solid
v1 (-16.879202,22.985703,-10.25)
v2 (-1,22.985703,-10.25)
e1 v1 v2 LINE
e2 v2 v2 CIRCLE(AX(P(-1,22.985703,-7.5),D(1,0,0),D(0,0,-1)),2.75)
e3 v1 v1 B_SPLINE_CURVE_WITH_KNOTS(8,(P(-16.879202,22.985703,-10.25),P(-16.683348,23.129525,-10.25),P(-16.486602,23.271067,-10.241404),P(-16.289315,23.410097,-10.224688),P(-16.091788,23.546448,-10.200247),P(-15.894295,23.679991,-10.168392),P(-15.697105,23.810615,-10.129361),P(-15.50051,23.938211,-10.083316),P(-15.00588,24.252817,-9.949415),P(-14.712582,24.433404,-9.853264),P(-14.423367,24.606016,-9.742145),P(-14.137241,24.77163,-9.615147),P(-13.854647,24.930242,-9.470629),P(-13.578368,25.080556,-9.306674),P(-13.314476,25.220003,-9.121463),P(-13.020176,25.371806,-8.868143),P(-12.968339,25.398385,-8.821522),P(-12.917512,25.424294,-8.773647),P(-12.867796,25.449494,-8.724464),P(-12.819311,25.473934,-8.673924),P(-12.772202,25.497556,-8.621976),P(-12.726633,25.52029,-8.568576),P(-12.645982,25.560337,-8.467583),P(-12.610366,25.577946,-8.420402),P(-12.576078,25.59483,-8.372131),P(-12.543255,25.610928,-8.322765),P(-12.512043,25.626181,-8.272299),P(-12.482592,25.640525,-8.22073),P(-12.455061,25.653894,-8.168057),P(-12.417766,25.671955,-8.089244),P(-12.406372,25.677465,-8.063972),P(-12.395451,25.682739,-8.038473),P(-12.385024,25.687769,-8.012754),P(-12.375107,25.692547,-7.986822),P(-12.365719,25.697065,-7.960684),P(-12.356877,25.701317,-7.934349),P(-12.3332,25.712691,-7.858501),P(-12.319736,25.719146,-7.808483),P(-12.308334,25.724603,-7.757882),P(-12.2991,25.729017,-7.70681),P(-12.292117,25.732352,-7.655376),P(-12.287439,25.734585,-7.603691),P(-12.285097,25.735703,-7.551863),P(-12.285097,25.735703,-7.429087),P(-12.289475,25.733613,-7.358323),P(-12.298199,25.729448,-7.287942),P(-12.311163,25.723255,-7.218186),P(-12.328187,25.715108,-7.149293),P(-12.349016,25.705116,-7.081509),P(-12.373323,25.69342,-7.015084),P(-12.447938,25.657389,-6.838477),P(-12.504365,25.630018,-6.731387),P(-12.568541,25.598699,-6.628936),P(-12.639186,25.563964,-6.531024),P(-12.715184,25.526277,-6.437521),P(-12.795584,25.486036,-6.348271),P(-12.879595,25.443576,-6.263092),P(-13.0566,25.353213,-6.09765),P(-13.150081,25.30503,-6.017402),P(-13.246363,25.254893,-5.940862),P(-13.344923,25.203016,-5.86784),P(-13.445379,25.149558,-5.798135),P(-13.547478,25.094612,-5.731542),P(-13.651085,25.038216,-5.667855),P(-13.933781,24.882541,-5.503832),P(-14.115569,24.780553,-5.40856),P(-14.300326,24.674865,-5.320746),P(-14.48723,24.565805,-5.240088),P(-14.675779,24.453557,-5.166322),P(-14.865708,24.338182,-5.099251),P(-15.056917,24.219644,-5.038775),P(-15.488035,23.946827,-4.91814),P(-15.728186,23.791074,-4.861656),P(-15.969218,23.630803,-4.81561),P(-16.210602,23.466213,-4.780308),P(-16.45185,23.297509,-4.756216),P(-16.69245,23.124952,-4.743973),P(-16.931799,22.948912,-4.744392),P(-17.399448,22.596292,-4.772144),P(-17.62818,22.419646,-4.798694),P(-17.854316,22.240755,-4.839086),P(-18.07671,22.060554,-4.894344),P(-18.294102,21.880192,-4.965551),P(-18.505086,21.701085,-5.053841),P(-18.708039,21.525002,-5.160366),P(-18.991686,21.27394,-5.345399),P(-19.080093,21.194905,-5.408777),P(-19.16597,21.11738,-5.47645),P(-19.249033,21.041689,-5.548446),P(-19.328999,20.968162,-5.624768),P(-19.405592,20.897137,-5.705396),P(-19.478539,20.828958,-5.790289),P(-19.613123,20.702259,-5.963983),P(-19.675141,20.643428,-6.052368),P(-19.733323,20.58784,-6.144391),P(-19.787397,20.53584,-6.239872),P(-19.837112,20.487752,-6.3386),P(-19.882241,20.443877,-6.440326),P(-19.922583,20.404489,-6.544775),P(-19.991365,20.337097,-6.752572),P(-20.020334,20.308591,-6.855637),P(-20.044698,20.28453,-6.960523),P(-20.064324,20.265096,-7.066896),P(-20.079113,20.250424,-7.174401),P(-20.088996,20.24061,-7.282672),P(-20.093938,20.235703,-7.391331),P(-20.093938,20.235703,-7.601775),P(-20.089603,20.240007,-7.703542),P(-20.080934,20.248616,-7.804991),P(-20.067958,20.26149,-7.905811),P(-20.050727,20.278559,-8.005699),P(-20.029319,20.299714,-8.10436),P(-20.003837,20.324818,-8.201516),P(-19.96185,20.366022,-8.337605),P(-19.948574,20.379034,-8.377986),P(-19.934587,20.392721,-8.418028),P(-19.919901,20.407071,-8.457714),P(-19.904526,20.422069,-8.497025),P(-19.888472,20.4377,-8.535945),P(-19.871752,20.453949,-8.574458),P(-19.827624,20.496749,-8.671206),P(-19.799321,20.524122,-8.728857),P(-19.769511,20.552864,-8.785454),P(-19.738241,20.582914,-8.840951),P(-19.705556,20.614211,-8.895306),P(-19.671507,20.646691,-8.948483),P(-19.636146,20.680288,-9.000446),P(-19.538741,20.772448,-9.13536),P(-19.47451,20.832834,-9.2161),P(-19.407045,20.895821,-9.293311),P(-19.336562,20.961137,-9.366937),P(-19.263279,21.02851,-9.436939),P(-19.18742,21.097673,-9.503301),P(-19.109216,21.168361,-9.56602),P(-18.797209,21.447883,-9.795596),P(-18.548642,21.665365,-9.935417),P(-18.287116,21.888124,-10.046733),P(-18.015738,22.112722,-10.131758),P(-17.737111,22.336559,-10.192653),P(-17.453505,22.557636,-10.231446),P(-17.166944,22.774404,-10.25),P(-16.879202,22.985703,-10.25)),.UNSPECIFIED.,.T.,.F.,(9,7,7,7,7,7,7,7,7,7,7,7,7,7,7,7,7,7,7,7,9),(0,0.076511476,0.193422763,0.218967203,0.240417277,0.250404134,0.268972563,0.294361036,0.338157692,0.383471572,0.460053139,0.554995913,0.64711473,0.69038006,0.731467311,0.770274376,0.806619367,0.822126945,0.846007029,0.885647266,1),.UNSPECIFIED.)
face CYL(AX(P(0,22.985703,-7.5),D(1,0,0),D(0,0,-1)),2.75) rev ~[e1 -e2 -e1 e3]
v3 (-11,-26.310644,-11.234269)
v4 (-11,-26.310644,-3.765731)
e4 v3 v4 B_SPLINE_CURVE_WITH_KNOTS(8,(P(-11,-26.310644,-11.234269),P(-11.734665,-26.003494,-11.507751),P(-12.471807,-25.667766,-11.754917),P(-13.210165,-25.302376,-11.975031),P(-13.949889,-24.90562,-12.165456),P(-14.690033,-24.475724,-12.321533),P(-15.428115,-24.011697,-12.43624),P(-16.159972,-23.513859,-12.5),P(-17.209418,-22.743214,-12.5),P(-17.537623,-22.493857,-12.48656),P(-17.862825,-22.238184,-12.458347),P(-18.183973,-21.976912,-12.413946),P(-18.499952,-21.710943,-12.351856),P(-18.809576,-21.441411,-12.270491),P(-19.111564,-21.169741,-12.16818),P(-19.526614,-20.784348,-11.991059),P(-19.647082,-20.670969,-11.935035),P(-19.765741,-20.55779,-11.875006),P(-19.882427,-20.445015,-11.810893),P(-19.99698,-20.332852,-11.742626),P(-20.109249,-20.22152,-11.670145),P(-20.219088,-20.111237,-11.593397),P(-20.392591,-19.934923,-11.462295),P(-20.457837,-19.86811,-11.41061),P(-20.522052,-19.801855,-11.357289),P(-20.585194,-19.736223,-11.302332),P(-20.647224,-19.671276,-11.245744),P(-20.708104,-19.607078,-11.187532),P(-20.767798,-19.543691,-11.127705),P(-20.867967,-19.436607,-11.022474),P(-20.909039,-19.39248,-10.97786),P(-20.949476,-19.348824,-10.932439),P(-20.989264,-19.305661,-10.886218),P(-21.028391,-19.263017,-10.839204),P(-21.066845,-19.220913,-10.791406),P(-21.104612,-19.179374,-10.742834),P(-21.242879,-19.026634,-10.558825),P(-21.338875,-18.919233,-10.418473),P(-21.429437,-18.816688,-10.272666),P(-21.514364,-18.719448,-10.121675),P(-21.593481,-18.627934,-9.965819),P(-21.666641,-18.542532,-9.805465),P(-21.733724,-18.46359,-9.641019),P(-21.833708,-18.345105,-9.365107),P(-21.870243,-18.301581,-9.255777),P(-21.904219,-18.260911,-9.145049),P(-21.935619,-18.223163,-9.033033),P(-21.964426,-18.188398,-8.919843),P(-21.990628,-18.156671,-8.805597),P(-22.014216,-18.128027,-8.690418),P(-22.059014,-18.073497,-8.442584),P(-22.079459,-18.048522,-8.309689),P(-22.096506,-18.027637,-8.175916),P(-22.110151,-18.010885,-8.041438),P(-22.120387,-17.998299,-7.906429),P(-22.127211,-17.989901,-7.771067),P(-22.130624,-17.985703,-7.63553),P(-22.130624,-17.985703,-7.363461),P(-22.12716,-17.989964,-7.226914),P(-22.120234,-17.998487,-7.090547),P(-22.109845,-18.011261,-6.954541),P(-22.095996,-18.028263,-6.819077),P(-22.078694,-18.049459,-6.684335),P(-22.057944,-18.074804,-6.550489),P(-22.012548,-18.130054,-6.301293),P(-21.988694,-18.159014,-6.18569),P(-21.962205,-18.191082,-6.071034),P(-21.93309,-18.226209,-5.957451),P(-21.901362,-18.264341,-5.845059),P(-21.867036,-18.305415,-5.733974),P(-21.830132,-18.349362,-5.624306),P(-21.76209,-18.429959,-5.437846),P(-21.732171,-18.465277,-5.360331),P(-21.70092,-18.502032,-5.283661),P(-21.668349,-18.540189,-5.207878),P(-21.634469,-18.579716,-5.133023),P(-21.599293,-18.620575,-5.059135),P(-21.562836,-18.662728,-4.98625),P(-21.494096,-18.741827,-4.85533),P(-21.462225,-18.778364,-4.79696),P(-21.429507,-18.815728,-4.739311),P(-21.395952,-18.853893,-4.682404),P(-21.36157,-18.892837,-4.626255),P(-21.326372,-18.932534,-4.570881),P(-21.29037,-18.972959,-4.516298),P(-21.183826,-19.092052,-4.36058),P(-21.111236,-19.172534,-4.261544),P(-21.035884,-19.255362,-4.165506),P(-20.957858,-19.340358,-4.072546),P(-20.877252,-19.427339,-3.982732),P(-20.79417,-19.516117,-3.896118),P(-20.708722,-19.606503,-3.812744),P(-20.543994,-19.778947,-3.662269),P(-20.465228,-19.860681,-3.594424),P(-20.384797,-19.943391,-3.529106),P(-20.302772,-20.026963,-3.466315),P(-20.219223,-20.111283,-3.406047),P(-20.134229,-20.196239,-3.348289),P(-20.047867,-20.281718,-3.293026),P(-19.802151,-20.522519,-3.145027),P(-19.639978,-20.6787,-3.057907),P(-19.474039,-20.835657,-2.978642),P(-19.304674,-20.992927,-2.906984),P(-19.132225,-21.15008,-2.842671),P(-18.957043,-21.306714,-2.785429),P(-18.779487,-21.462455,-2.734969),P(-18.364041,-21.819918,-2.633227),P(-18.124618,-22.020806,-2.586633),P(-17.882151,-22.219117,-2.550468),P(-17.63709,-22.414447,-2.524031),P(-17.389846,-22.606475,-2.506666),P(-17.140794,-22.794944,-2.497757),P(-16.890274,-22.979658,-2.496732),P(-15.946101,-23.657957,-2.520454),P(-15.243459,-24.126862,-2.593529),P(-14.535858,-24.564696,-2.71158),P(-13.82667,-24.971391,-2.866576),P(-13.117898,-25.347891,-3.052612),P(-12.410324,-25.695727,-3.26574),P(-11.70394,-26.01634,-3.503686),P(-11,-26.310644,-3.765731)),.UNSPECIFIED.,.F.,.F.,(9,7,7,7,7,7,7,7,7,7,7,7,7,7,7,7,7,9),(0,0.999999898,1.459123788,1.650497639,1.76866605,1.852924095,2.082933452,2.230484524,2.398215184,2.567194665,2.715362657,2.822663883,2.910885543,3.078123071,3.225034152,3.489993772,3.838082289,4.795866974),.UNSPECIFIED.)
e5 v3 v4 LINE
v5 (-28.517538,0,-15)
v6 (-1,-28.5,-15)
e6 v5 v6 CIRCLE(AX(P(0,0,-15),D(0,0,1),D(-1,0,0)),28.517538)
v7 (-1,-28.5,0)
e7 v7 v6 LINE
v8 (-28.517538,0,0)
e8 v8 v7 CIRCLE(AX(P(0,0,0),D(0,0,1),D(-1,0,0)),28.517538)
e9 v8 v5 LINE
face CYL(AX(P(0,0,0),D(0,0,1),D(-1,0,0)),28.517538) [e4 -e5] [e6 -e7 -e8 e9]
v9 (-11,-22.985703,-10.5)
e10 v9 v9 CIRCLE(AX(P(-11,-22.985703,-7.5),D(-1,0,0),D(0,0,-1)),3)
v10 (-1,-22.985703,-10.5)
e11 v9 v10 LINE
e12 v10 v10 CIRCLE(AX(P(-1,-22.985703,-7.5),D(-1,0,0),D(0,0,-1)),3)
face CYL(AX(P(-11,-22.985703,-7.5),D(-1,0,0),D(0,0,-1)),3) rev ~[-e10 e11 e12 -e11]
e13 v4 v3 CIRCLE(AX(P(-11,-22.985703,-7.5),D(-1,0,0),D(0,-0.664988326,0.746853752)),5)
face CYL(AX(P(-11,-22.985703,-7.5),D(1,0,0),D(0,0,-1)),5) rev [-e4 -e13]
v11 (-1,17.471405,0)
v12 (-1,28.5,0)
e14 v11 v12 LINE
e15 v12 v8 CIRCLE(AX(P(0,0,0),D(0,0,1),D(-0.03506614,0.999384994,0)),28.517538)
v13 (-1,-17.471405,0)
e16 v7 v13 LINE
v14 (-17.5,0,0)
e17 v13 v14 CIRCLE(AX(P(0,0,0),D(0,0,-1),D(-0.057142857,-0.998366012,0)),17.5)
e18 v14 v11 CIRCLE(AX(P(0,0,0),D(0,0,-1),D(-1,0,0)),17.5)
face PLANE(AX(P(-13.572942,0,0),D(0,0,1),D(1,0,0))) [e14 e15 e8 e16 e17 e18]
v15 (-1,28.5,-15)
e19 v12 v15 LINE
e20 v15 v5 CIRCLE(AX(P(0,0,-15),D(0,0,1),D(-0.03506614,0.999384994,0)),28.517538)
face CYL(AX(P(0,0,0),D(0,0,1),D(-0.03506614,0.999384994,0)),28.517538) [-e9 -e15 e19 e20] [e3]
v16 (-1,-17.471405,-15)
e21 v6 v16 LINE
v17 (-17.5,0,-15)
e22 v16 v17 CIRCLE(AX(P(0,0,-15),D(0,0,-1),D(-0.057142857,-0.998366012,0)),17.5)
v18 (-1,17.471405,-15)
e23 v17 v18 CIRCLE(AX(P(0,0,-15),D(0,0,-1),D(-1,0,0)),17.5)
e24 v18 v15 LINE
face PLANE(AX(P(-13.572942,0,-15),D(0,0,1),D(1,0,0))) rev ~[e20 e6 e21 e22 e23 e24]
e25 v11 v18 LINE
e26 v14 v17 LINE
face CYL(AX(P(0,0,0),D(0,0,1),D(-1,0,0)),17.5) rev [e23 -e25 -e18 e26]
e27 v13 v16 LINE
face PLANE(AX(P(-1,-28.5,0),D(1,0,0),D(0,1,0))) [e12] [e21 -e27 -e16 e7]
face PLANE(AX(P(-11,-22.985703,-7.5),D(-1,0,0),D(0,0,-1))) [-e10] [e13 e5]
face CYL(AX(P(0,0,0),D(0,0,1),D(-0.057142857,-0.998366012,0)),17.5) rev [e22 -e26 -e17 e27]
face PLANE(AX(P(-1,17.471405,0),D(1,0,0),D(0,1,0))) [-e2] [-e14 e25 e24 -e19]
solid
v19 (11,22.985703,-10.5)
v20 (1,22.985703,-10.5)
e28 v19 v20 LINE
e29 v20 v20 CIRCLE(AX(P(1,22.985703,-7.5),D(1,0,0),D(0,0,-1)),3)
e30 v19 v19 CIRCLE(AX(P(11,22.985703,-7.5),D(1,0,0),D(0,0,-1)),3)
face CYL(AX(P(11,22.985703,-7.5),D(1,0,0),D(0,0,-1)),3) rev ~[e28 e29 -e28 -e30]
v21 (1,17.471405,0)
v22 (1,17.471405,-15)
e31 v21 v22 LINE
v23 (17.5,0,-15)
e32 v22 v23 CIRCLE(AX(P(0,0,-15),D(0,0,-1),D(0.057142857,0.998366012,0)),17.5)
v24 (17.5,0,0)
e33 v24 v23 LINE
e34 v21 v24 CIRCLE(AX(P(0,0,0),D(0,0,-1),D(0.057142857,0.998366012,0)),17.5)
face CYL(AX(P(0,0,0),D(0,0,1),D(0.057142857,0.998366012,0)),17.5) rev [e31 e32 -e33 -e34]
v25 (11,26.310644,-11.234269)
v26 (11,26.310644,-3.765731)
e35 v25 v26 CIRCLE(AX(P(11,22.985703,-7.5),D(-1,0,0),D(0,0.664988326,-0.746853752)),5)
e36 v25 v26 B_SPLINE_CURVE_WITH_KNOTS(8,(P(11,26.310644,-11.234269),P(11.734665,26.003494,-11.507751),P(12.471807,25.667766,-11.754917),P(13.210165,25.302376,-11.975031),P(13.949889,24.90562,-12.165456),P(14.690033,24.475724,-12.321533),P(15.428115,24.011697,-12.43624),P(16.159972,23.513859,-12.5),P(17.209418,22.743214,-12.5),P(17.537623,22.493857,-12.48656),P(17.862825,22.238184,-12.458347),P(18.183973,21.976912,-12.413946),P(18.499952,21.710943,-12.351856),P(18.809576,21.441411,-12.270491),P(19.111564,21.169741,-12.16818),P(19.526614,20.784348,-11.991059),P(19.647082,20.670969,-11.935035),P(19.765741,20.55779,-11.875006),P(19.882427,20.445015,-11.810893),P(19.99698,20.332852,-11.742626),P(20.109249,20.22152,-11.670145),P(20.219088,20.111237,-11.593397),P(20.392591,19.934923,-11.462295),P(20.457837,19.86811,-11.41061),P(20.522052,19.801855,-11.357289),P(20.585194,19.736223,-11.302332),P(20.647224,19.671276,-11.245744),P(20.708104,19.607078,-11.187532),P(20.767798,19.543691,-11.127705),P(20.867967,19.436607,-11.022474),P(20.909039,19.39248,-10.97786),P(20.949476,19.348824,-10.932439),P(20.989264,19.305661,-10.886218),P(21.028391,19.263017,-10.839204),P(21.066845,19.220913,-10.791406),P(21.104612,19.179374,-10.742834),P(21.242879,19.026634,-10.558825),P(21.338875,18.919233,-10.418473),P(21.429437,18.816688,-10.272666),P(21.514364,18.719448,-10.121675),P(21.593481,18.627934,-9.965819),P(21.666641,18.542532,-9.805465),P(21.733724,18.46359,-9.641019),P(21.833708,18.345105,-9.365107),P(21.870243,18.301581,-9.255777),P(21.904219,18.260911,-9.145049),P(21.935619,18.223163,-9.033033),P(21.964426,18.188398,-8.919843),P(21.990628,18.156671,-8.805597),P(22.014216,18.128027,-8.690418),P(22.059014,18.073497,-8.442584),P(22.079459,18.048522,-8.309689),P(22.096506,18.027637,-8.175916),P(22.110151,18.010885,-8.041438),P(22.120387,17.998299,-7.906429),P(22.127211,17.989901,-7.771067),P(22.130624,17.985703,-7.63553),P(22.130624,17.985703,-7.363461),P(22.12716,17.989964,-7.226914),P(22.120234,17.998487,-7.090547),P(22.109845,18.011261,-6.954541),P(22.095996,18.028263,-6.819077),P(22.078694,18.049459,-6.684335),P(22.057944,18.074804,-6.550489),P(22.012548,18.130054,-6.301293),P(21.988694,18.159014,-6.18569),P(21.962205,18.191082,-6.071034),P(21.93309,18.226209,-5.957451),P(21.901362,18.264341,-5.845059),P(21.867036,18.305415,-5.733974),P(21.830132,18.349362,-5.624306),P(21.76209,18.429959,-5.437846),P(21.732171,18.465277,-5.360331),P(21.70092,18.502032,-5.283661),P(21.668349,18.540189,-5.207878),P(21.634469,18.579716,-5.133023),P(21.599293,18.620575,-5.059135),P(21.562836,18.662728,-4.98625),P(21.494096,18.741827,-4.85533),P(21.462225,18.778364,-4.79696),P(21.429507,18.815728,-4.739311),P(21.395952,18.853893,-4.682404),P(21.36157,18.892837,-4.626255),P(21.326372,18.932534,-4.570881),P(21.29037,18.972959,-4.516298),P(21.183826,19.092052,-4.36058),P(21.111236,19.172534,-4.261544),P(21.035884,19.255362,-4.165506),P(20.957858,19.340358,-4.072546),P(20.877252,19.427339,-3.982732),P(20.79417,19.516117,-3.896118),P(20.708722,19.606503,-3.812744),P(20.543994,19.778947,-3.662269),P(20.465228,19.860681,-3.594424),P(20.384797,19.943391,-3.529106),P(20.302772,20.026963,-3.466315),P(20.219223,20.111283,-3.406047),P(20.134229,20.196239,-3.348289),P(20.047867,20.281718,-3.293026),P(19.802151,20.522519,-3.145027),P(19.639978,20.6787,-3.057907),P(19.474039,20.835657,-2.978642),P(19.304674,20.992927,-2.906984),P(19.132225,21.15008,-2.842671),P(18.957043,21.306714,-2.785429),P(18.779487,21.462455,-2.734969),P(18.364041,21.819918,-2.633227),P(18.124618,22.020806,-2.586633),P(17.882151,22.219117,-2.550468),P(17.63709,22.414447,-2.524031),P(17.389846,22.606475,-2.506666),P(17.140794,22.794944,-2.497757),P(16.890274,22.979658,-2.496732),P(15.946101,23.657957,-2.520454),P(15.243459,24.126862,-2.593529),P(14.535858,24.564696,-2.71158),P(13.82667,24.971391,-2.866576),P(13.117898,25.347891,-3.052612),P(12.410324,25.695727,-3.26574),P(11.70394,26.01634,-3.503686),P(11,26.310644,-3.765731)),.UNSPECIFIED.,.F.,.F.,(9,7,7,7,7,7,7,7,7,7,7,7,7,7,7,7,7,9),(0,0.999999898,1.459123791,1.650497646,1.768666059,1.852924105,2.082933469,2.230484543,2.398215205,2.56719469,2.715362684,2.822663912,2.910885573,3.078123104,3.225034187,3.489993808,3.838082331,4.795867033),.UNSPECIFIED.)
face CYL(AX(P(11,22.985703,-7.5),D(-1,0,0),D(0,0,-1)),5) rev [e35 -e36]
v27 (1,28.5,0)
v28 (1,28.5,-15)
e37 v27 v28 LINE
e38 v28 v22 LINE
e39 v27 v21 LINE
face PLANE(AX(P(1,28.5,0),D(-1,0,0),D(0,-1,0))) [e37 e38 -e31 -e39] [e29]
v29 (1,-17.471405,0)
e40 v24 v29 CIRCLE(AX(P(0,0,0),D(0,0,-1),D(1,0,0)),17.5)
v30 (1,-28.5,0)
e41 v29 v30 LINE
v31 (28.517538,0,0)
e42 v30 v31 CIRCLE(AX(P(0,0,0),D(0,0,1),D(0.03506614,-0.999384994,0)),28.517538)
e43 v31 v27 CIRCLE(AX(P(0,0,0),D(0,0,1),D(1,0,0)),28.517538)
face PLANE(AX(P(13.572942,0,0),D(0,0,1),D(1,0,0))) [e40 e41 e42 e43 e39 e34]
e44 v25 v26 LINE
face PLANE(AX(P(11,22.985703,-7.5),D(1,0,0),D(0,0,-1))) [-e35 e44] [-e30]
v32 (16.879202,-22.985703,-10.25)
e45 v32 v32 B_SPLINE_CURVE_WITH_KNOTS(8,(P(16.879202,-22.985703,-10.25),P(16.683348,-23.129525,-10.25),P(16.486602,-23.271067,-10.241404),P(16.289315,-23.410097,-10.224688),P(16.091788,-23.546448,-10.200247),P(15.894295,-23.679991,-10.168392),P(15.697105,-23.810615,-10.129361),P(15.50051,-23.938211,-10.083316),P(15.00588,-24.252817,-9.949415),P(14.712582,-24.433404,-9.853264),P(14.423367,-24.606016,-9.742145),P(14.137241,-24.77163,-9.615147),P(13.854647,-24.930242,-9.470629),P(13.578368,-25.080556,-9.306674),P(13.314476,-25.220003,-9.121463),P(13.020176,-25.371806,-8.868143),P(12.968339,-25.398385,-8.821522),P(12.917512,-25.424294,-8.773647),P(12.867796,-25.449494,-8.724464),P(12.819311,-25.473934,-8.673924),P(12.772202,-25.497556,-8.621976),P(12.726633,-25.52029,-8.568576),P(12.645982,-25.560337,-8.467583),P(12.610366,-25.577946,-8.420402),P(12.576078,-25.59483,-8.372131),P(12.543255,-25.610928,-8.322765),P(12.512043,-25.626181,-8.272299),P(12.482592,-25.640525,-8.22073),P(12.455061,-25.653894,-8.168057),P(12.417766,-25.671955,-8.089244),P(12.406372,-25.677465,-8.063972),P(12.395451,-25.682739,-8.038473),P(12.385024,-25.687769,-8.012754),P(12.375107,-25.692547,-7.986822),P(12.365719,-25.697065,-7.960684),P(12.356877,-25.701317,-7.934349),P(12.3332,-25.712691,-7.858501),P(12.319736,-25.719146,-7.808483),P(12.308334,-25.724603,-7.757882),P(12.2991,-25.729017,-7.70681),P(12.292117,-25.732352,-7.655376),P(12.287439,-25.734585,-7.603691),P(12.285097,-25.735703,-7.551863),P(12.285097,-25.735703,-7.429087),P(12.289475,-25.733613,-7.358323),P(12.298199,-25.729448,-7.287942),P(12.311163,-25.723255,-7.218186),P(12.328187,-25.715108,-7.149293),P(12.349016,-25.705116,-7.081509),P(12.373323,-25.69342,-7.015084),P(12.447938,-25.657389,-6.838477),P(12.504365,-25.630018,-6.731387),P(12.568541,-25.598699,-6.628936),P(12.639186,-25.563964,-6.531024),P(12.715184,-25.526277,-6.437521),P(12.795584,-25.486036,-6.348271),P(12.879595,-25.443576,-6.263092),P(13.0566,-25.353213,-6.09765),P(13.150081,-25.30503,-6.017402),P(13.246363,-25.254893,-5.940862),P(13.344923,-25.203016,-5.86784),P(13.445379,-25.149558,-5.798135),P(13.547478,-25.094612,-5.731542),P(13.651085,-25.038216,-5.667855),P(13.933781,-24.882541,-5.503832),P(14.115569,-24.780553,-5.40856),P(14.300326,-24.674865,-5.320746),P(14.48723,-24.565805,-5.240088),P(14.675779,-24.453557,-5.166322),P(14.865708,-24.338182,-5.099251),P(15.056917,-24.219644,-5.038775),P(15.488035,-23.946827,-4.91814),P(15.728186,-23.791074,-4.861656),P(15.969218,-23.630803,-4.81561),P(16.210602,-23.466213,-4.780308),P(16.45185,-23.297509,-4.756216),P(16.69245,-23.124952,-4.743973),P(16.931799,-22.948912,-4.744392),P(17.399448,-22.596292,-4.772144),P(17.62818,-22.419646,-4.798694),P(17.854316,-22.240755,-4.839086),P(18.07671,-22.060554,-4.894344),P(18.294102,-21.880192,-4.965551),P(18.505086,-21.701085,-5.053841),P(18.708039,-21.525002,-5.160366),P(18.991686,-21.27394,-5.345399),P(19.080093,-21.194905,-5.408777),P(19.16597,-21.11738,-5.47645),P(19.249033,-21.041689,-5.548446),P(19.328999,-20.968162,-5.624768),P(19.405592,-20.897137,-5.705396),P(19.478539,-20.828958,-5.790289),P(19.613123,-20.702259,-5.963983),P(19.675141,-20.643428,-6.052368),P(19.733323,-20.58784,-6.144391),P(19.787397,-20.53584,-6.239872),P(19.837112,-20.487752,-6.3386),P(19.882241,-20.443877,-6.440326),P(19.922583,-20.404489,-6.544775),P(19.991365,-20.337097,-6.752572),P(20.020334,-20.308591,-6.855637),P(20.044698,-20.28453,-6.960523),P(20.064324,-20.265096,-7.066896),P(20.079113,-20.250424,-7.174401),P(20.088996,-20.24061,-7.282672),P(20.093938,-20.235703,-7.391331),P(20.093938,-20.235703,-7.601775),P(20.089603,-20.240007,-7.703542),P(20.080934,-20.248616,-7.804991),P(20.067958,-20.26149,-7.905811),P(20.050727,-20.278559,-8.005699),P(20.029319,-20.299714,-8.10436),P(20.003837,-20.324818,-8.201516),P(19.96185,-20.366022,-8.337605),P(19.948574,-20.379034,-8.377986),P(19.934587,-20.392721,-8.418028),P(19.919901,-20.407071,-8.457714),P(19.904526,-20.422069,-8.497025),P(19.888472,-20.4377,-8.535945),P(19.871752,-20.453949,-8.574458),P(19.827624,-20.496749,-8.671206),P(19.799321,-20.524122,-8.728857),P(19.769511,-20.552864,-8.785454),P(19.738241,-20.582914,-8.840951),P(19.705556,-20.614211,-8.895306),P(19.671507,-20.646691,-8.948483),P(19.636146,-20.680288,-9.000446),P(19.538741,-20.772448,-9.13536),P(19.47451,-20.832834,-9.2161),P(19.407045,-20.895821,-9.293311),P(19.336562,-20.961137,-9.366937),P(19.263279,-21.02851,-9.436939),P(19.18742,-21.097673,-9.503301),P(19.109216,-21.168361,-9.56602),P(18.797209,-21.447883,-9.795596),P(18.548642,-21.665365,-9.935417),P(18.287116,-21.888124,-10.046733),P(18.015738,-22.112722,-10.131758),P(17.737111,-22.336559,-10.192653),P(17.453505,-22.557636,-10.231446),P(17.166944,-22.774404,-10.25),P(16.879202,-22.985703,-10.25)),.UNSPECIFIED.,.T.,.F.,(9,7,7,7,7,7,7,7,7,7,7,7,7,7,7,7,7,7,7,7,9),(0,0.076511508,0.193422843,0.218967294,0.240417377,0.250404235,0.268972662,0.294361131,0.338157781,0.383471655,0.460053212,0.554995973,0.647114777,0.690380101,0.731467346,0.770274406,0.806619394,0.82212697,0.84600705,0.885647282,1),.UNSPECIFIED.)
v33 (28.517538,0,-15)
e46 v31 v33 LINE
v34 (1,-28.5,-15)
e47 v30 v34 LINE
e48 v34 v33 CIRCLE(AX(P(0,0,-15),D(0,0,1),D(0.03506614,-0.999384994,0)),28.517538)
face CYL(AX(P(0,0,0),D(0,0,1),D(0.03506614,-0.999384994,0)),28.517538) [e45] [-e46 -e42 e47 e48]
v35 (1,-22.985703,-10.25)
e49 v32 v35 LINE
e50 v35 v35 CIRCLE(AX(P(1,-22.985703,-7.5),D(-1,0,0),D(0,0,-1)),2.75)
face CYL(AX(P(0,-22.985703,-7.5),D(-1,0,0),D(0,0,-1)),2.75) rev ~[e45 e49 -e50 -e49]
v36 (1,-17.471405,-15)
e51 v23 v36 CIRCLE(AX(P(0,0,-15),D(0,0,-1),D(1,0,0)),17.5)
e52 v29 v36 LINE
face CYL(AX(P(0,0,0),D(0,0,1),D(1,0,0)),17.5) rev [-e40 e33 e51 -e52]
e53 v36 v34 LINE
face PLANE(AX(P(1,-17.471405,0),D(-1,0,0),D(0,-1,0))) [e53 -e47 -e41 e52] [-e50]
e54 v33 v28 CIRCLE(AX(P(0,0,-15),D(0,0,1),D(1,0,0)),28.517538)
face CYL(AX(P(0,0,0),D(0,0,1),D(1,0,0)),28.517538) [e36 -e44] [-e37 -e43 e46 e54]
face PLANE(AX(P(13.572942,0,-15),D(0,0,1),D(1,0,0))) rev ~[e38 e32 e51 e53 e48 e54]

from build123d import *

# Parameters (mm, degrees)
EXTRUDE_1_DEPTH          = 15
EXTRUDE_1_2_DEPTH        = 15
SKETCH_2_R               = 2.75
CUT_EXTRUDE_1_DEPTH      = 29.517538463
SKETCH_3_R               = 5
CUT_EXTRUDE_2_DEPTH      = 18.517538563
SKETCH_4_R               = 3
CUT_EXTRUDE_3_DEPTH      = 10
PATTERN_CIRCULAR_1_COUNT = 2


with BuildPart() as part:
    # Эскиз1 → Бобышка-Вытянуть1 (new body)
    with BuildSketch(Plane.XY):
        with BuildLine():
            ThreePointArc((-1, 28.5), (-20.515451963, 19.808236438), (-28.517538463, 0))
            ThreePointArc((-28.517538463, 0), (-20.515451963, -19.808236438), (-1, -28.5))
            Line((-1, -28.5), (-1, -17.47140521))
            ThreePointArc((-1, -17.47140521), (-12.72301065, -12.015614841), (-17.5, 0))
            ThreePointArc((-17.5, 0), (-12.72301065, 12.015614841), (-1, 17.47140521))
            Line((-1, 17.47140521), (-1, 28.5))
        make_face()
    extrude(amount=-EXTRUDE_1_DEPTH)


with BuildPart() as body_2:
    # Эскиз1 → Extrude 1 2 (new body)
    with BuildSketch(Plane.XY):
        with BuildLine():
            Line((1, -17.47140521), (1, -28.5))
            ThreePointArc((1, -28.5), (20.515451963, -19.808236438), (28.517538463, 0))
            ThreePointArc((28.517538463, 0), (20.515451963, 19.808236438), (1, 28.5))
            Line((1, 28.5), (1, 17.47140521))
            ThreePointArc((1, 17.47140521), (12.72301065, 12.015614841), (17.5, 0))
            ThreePointArc((17.5, 0), (12.72301065, -12.015614841), (1, -17.47140521))
        make_face()
    extrude(amount=-EXTRUDE_1_2_DEPTH)


with BuildPart() as cut_extrude_1_tool:
    # Эскиз2 → Вырез-Вытянуть1 (new body, symmetric)
    with BuildSketch(Plane(origin=(0, 0, 0), x_dir=(0, 0, -1), z_dir=(1, 0, 0))):
        with Locations((7.5, 22.985702605)):
            Circle(SKETCH_2_R)
    cut_extrude_1 = extrude(amount=CUT_EXTRUDE_1_DEPTH, both=True)


with BuildPart() as part_1:
    add(part.part)

    # Вырез-Вытянуть1: cut by cut_extrude_1_tool
    add(cut_extrude_1_tool.part, mode=Mode.SUBTRACT)


with BuildPart() as body_2_1:
    add(body_2.part)

    # Вырез-Вытянуть1: cut by cut_extrude_1_tool
    add(cut_extrude_1_tool.part, mode=Mode.SUBTRACT)

    # Эскиз3 → Вырез-Вытянуть2 (cut, through all)
    with BuildSketch(Plane(origin=(11, 0, 0), x_dir=(0, 0, -1), z_dir=(1, 0, 0))):
        with Locations((7.5, 22.985702605)):
            Circle(SKETCH_3_R)
    cut_extrude_2 = extrude(amount=CUT_EXTRUDE_2_DEPTH, mode=Mode.SUBTRACT)

    # Эскиз4 → Вырез-Вытянуть3 (cut)
    with BuildSketch(Plane(origin=(11, 0, 0), x_dir=(0, 0, -1), z_dir=(1, 0, 0))):
        with Locations((7.5, 22.985702605)):
            Circle(SKETCH_4_R)
    cut_extrude_3 = extrude(amount=-CUT_EXTRUDE_3_DEPTH, mode=Mode.SUBTRACT)


with BuildPart() as pattern_circular_1_tool:
    # Круговой массив1: Вырез-Вытянуть1, Вырез-Вытянуть2, Вырез-Вытянуть3 ×2 about axis
    pattern_circular_1_axis = Axis((0, 0, -80.9), (0, 0, 1))
    for i in range(1, PATTERN_CIRCULAR_1_COUNT):
        add(cut_extrude_1.rotate(pattern_circular_1_axis, i * 360 / PATTERN_CIRCULAR_1_COUNT))
        add(cut_extrude_2.rotate(pattern_circular_1_axis, i * 360 / PATTERN_CIRCULAR_1_COUNT))
        add(cut_extrude_3.rotate(pattern_circular_1_axis, i * 360 / PATTERN_CIRCULAR_1_COUNT))


with BuildPart() as part_2:
    add(part_1.part)

    # Круговой массив1: cut by pattern_circular_1_tool
    add(pattern_circular_1_tool.part, mode=Mode.SUBTRACT)


with BuildPart() as body_2_2:
    add(body_2_1.part)

    # Круговой массив1: cut by pattern_circular_1_tool
    add(pattern_circular_1_tool.part, mode=Mode.SUBTRACT)


solid = Compound([part_2.part, body_2_2.part])
